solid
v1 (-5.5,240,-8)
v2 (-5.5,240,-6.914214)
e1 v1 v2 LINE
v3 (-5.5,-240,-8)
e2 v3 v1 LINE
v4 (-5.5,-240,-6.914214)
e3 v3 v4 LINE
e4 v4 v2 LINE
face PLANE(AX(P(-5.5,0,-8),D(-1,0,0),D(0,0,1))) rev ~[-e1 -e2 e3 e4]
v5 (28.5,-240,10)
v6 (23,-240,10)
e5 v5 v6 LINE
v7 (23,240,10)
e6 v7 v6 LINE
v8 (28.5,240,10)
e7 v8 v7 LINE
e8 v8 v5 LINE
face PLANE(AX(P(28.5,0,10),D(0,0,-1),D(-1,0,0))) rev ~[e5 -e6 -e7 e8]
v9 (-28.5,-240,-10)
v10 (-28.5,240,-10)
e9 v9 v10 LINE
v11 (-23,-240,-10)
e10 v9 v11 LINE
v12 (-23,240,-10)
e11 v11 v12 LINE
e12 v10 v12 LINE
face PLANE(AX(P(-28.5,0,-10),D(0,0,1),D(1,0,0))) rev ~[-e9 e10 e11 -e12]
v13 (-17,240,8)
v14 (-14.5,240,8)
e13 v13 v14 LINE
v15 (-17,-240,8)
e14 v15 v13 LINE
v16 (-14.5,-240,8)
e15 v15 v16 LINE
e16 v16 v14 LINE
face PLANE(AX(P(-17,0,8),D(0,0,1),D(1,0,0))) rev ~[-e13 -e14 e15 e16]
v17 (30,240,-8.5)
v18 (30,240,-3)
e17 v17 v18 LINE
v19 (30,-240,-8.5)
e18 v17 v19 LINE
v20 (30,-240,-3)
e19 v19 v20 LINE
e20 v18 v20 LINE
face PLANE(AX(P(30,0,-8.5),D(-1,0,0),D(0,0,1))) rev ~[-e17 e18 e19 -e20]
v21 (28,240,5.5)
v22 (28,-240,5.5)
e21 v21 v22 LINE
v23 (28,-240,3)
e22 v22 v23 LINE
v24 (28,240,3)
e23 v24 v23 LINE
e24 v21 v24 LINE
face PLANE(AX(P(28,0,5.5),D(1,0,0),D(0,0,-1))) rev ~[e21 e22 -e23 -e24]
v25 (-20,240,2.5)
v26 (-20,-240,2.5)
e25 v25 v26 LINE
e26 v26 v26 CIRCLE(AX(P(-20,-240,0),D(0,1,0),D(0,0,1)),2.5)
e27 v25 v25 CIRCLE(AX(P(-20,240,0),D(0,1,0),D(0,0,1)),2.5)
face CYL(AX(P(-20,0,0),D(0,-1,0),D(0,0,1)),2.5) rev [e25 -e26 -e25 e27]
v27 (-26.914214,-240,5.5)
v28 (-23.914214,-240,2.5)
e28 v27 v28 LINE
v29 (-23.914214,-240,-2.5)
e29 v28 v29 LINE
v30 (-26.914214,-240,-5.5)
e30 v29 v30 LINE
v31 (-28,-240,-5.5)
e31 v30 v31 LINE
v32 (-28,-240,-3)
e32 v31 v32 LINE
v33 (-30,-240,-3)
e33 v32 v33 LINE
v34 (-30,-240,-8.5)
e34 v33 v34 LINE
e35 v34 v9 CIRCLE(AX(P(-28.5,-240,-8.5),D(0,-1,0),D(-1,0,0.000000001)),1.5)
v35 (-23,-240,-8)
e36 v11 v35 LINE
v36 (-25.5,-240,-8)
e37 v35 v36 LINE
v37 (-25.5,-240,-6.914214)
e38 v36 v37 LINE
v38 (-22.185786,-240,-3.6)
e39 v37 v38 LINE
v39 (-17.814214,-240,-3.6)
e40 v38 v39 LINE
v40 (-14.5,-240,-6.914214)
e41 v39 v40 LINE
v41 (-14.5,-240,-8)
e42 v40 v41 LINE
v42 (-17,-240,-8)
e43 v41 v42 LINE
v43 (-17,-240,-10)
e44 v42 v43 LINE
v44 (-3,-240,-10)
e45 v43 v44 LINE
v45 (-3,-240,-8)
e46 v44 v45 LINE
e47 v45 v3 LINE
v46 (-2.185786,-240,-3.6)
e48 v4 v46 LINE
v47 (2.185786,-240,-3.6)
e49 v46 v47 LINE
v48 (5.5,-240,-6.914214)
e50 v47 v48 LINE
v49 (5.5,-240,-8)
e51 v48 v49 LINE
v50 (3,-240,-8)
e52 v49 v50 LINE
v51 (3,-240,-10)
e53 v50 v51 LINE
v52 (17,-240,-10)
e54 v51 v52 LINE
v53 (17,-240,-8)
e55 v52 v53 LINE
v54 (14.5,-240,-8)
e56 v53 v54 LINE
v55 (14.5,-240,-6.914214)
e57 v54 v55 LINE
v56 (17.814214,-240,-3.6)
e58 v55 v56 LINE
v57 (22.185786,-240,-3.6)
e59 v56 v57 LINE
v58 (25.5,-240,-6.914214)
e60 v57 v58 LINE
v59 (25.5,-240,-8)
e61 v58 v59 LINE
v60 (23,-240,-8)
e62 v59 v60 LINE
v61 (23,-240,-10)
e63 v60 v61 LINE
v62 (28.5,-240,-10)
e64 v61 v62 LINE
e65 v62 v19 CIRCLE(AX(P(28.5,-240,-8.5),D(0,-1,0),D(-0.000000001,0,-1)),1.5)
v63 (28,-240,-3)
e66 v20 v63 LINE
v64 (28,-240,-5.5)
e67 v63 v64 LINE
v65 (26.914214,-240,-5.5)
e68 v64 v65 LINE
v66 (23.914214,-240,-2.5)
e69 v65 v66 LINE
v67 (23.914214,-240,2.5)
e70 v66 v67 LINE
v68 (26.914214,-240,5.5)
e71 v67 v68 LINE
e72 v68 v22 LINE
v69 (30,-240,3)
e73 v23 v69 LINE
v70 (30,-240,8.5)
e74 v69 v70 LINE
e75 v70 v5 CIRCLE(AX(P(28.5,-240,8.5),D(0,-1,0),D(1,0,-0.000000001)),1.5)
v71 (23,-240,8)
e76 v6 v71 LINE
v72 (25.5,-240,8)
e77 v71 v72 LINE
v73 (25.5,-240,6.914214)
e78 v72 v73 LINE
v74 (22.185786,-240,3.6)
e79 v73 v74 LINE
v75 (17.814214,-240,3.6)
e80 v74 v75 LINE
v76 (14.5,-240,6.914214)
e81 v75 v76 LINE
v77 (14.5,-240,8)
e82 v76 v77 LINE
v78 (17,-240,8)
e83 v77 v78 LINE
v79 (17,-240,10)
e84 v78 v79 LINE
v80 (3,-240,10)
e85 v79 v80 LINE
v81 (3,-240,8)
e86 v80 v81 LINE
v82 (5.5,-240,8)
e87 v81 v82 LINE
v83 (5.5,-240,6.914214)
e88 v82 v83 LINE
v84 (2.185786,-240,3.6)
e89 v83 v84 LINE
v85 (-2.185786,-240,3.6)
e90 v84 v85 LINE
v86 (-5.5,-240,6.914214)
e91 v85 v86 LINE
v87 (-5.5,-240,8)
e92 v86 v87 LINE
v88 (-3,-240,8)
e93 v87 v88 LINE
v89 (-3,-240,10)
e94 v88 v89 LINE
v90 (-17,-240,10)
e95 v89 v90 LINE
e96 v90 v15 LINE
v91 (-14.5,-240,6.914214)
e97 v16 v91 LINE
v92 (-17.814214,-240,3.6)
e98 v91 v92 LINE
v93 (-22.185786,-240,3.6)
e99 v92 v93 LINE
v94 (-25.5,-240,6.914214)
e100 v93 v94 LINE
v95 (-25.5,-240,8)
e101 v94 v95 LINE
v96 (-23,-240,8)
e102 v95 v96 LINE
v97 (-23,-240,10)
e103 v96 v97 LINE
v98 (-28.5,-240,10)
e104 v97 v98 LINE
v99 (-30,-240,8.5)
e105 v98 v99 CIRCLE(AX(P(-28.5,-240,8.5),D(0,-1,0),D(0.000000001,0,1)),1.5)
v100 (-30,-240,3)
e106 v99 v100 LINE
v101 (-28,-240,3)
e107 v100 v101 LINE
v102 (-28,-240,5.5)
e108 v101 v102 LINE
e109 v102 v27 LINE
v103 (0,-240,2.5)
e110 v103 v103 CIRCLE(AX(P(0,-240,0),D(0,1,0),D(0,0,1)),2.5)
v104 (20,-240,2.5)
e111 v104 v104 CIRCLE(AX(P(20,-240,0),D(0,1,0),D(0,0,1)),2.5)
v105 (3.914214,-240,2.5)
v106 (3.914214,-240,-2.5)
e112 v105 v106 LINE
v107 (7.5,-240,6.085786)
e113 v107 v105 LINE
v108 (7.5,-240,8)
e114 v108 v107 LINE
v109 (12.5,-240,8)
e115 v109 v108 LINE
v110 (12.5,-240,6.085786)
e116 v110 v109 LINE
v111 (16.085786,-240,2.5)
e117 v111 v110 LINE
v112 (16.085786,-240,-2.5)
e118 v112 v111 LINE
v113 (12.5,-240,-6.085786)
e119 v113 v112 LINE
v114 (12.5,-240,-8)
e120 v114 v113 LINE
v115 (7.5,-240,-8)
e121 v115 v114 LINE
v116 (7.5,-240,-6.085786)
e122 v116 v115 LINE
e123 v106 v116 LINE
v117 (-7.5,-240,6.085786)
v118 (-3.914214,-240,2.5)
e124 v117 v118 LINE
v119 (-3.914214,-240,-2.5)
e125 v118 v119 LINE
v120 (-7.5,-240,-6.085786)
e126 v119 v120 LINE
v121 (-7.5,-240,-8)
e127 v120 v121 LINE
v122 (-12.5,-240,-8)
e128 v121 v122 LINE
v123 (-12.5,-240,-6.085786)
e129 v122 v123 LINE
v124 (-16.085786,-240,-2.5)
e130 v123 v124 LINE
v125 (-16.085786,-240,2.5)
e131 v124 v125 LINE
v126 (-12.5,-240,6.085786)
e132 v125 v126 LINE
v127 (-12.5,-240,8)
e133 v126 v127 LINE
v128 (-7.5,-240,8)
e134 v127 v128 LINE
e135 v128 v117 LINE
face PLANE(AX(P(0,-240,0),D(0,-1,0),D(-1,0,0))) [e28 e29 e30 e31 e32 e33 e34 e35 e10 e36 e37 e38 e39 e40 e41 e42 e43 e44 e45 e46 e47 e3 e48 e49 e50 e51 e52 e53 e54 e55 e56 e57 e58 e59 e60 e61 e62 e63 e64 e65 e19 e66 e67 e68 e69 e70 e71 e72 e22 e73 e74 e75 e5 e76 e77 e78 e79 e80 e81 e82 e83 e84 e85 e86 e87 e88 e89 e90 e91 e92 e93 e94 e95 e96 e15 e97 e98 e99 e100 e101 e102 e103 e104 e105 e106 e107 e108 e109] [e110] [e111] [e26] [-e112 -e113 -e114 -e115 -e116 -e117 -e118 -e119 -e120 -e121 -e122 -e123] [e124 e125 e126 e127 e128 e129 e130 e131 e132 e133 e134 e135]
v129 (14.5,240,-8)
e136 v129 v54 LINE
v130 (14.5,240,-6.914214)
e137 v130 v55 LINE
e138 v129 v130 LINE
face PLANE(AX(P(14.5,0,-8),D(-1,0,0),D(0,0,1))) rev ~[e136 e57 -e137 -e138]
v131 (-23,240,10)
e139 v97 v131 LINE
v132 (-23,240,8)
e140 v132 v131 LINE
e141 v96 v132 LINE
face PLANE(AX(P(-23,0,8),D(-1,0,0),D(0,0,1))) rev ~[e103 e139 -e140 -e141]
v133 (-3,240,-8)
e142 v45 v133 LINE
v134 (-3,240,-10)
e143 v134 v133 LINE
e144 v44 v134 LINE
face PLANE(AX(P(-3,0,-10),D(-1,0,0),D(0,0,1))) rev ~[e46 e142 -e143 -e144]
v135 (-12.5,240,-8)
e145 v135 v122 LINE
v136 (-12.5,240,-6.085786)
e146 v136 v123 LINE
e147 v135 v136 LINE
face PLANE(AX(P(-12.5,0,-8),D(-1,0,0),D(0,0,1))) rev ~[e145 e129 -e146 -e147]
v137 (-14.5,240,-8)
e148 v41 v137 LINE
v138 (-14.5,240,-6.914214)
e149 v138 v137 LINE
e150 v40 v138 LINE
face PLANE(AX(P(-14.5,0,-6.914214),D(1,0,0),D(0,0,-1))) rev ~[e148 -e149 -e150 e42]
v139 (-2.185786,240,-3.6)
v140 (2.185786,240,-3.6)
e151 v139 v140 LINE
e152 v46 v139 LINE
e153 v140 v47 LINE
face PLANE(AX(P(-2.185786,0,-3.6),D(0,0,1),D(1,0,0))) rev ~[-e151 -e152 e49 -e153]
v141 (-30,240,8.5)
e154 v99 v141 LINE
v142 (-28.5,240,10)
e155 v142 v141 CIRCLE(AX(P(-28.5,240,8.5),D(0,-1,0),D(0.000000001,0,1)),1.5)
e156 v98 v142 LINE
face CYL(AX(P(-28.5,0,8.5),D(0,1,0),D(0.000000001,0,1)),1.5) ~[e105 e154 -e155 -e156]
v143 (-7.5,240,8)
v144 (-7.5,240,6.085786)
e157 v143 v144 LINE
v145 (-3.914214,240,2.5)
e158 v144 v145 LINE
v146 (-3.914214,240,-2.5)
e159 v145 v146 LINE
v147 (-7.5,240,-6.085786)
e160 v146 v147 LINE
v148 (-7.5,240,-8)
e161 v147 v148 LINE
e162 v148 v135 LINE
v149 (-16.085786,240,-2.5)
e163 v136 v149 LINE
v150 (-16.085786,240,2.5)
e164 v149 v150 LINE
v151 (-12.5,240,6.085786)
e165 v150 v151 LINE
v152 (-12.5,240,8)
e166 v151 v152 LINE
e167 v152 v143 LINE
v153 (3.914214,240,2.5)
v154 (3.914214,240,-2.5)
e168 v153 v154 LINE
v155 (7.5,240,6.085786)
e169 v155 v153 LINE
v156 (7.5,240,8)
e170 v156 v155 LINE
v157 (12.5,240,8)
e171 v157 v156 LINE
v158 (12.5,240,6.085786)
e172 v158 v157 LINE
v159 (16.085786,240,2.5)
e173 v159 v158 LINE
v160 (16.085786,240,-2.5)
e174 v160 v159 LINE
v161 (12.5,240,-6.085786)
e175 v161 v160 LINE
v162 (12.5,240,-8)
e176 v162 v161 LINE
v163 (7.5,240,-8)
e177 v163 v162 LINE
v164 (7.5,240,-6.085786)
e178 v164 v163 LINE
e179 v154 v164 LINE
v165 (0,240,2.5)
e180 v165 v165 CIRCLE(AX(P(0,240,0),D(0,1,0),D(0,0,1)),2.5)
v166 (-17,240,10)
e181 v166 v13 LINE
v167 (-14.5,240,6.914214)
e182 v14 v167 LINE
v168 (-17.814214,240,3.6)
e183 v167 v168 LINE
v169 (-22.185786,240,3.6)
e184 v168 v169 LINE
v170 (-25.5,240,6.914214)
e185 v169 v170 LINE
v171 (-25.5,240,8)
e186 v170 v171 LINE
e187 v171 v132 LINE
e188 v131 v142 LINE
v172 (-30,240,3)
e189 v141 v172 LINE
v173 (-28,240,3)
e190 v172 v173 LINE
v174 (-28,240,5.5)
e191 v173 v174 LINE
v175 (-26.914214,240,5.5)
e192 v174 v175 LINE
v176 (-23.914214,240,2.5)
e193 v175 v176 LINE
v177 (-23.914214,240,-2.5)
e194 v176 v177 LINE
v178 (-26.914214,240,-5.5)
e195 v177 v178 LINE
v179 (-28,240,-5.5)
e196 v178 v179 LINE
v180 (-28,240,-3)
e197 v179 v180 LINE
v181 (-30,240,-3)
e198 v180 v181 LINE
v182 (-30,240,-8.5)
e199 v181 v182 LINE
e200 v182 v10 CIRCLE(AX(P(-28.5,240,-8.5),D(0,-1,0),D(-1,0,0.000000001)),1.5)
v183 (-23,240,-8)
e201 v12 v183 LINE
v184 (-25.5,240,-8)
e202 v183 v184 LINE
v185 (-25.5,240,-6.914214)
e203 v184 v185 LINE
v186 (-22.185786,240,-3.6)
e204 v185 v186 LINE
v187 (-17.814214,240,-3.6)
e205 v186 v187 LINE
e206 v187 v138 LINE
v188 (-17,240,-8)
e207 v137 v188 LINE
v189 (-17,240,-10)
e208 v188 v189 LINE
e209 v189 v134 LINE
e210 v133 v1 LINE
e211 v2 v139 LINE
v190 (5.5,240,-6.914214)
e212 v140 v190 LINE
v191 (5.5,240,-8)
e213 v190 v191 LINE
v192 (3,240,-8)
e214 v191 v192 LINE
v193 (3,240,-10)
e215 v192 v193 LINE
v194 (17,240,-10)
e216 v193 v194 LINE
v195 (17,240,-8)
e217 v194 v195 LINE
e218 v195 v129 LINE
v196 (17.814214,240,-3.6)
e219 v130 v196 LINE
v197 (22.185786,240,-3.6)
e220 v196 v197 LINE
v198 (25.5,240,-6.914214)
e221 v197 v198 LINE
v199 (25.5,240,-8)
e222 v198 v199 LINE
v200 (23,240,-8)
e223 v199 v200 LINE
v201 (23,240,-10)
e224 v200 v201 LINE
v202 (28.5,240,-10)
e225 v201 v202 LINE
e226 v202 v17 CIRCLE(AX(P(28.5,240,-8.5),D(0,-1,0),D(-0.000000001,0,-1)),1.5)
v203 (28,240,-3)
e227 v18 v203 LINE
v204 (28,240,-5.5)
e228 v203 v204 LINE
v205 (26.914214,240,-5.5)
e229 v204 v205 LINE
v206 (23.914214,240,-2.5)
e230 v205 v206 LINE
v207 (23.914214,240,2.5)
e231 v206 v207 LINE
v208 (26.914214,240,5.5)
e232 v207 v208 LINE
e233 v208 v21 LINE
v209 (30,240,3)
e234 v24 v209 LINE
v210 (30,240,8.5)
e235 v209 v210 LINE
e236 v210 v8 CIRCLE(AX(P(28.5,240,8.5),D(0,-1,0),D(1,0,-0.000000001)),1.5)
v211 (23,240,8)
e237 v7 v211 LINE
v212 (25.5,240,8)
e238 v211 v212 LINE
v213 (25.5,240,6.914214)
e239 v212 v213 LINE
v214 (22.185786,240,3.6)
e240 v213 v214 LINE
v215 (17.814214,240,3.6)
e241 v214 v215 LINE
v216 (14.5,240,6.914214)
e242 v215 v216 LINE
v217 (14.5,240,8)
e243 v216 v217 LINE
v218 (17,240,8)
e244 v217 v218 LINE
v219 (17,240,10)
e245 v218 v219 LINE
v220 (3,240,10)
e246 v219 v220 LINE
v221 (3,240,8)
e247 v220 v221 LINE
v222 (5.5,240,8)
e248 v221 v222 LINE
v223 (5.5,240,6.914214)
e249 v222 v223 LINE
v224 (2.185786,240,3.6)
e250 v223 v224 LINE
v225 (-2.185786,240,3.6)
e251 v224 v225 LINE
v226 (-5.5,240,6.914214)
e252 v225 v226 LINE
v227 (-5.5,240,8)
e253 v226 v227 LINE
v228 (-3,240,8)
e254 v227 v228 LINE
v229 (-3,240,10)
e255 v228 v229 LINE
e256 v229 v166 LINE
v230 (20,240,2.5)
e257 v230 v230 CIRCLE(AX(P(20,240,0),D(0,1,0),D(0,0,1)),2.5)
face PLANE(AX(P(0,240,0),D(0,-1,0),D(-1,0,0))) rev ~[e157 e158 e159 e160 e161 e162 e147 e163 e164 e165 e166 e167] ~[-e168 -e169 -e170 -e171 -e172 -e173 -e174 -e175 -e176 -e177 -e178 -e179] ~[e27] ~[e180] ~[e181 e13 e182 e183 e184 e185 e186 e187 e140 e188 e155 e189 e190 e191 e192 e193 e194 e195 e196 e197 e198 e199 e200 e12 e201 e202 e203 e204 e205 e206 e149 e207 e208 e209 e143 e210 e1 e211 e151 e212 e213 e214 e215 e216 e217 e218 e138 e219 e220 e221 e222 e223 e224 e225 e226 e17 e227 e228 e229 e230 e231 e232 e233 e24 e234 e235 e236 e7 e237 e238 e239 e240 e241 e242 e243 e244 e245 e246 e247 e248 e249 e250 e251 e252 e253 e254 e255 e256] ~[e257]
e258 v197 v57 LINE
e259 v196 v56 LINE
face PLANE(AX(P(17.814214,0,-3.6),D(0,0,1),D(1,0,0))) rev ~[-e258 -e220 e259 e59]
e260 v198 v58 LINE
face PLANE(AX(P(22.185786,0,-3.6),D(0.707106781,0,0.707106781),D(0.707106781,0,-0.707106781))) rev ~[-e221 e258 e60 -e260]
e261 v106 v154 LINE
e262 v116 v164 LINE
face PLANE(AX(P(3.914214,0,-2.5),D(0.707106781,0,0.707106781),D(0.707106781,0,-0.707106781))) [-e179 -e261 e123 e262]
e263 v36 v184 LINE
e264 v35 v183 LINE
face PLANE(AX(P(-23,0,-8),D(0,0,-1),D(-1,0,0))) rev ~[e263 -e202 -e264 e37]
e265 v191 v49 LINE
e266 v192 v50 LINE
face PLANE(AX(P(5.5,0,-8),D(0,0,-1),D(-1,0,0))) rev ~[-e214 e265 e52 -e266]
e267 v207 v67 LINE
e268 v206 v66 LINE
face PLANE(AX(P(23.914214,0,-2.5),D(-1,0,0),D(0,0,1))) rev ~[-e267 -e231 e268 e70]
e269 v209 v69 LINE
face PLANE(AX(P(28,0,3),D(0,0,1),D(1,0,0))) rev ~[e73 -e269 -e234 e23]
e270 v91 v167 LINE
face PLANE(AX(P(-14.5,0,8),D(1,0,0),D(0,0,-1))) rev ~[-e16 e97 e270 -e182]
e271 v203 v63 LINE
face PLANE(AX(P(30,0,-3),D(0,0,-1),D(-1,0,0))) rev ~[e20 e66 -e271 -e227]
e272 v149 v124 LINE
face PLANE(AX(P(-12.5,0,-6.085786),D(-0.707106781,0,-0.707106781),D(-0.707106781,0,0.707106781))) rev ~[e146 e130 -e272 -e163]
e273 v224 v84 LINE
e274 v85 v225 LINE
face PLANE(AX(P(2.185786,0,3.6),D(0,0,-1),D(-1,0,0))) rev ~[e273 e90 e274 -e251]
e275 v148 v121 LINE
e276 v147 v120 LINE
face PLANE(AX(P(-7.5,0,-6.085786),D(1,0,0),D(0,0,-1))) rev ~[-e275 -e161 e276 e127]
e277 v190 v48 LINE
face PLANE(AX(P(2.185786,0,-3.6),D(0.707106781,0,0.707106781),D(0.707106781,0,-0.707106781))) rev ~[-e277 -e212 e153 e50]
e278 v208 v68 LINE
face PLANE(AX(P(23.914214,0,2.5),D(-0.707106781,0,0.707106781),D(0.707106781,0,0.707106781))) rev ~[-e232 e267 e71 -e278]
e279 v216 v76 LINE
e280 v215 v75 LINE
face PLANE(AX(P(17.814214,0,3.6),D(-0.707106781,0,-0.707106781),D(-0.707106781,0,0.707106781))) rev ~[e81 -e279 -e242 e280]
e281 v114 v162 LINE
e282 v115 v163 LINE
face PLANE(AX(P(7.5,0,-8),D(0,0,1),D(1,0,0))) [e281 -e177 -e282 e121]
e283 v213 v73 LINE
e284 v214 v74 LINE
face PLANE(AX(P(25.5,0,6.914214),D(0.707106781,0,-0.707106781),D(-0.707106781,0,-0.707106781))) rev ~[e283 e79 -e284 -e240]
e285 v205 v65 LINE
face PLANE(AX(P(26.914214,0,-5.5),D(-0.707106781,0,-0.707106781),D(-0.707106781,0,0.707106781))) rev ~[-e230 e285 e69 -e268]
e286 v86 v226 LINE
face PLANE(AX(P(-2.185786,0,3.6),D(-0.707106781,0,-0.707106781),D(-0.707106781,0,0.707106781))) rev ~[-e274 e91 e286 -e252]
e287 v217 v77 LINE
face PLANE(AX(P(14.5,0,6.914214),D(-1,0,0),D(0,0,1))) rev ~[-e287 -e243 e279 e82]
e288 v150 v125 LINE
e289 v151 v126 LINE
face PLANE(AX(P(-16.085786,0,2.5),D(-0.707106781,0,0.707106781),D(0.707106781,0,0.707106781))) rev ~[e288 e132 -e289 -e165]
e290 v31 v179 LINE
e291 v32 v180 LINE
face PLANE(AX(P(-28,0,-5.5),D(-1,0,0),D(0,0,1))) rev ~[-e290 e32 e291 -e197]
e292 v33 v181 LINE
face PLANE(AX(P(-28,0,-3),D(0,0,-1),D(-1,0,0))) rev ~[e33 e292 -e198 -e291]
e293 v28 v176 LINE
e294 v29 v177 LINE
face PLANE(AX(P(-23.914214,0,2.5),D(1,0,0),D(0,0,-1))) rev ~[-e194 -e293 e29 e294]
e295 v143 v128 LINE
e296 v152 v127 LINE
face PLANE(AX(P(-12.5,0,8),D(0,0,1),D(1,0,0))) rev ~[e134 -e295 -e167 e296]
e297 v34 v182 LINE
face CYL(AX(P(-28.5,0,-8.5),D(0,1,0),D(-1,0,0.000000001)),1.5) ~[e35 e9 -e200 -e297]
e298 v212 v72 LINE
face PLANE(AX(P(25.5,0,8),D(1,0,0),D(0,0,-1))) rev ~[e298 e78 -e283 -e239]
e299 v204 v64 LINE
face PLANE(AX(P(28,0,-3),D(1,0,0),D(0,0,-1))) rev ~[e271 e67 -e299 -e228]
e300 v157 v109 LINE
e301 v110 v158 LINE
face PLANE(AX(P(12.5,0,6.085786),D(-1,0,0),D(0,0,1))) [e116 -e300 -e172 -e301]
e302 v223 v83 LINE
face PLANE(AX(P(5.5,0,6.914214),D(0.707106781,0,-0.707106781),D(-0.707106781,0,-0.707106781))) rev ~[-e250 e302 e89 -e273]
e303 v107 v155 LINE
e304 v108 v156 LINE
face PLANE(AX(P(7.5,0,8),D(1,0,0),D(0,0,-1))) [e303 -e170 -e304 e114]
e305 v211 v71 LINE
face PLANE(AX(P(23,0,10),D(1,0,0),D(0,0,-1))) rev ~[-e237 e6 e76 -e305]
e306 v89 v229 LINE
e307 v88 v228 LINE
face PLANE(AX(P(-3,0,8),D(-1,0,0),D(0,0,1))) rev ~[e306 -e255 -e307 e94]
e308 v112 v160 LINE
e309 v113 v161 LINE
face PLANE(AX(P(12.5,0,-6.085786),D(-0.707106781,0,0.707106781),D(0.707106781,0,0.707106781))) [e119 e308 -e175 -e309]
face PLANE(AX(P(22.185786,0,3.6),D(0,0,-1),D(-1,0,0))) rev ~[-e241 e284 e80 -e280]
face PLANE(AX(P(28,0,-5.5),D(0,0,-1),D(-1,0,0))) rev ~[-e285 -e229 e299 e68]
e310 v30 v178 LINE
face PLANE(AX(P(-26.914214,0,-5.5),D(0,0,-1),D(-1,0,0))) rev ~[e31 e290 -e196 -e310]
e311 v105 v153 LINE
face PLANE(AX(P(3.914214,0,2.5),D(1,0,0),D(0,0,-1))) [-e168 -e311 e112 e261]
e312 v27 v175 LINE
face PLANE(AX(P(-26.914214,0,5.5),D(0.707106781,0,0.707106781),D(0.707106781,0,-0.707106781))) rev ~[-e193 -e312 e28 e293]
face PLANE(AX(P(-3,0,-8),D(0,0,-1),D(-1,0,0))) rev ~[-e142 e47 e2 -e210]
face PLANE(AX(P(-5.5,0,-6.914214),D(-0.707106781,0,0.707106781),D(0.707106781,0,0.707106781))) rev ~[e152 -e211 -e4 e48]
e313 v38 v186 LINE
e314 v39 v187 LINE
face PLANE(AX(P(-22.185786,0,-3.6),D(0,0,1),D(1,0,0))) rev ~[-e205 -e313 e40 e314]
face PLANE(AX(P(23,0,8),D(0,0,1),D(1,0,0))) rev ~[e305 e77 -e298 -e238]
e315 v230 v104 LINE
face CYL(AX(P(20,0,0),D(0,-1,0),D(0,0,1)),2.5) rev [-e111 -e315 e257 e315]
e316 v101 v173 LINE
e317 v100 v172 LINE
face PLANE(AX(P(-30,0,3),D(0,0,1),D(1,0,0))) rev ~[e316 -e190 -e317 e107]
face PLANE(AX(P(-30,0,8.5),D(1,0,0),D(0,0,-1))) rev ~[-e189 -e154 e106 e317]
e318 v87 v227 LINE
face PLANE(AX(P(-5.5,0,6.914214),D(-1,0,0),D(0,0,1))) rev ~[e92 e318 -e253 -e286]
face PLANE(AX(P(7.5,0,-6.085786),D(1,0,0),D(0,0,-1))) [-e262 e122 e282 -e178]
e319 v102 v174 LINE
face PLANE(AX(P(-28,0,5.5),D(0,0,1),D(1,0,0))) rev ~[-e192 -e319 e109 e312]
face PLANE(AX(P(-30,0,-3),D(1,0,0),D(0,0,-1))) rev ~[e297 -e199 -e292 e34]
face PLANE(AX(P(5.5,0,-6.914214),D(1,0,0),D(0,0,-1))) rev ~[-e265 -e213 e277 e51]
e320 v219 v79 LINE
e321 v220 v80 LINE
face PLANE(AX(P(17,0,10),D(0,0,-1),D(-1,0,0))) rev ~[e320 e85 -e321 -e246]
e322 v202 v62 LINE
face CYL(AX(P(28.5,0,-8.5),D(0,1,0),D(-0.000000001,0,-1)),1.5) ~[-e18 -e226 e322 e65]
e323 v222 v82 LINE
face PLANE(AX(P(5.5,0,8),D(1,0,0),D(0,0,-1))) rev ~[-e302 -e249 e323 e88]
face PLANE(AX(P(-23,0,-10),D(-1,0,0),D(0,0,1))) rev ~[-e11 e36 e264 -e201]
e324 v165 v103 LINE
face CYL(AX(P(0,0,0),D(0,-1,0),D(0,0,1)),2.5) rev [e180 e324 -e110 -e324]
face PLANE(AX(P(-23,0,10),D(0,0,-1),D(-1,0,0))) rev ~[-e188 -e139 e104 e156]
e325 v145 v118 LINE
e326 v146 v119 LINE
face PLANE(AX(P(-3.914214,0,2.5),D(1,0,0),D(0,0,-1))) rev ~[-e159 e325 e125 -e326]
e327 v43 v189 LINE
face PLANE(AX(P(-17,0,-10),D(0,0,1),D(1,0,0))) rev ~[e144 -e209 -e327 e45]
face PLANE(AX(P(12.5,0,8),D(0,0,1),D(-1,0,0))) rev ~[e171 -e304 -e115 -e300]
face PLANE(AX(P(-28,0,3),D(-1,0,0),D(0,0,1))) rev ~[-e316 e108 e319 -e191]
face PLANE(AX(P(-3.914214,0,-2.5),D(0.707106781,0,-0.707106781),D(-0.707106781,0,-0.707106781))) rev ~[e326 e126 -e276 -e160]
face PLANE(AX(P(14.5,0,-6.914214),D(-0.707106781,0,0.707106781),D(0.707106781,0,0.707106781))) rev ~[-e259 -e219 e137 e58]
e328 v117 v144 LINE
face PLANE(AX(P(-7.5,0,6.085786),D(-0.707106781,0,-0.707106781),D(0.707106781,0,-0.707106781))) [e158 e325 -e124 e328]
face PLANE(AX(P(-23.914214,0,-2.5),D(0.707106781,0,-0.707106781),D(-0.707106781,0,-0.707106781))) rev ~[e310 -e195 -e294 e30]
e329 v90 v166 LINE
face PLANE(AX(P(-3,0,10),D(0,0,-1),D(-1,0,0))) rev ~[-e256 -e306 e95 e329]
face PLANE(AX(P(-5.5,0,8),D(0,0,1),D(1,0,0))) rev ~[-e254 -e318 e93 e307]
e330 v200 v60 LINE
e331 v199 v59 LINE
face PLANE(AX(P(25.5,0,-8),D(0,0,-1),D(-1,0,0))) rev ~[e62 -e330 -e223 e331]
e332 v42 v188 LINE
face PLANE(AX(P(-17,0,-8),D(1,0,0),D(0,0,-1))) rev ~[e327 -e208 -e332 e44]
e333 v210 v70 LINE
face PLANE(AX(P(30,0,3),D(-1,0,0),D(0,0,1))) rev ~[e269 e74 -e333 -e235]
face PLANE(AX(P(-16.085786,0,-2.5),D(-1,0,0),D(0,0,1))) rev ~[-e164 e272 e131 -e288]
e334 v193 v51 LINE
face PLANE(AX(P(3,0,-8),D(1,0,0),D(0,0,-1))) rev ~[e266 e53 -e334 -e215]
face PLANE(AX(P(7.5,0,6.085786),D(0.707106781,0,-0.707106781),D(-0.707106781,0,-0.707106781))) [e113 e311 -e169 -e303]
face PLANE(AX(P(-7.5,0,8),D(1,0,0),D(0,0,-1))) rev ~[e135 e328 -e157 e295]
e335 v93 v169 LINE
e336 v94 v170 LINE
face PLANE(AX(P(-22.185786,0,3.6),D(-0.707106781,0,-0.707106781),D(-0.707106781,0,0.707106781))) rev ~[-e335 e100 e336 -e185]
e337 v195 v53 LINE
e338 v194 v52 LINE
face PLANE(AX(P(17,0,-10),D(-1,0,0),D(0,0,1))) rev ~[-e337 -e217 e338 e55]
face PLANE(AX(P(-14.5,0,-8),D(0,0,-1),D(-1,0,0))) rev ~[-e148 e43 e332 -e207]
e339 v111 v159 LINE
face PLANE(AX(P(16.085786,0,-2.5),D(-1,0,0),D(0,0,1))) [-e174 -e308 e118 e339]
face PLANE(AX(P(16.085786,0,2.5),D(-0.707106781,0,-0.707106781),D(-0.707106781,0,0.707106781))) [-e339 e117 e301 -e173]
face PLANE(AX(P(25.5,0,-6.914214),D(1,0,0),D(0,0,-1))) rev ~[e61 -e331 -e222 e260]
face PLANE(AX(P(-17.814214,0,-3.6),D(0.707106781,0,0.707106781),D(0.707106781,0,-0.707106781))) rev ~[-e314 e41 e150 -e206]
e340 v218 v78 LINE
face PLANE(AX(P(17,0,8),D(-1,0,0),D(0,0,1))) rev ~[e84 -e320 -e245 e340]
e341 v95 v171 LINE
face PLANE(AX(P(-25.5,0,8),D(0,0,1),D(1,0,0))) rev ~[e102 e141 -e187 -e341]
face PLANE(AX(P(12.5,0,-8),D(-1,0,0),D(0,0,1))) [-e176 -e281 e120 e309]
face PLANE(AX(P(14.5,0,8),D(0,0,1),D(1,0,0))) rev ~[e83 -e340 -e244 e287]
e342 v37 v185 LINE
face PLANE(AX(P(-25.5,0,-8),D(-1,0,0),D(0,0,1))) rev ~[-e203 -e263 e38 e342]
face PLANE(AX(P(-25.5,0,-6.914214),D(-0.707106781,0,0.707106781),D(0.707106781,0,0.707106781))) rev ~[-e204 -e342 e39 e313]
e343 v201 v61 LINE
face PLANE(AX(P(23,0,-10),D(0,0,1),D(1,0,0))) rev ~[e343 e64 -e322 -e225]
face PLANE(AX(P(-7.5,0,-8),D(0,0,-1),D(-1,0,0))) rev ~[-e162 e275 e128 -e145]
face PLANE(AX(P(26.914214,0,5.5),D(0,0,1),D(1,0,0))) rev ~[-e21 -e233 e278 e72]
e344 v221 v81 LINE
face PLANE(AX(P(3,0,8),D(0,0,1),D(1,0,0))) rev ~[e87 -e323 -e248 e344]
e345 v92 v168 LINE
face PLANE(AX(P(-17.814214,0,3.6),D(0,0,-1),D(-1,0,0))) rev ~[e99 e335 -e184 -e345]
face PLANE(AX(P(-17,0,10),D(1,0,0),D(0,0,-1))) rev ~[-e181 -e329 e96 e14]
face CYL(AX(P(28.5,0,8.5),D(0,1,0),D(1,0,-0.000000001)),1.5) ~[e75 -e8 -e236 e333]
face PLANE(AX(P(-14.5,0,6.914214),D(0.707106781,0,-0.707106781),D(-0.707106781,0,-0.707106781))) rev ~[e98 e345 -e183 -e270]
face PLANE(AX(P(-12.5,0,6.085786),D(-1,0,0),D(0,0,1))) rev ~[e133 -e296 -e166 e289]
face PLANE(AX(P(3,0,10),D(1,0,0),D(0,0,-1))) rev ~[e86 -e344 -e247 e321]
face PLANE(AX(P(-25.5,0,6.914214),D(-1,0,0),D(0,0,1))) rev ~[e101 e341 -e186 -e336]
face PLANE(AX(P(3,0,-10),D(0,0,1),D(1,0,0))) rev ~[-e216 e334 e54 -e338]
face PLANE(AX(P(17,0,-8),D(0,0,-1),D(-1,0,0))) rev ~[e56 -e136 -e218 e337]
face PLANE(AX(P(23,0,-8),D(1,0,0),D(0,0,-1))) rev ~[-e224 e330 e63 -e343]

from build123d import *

# Parameters (mm, degrees)
SKETCH1_R           = 2.5
BOSS_EXTRUDE1_DEPTH = 240


with BuildPart() as part:
    # Sketch1 → Boss-Extrude1 (new, symmetric)
    with BuildSketch(Plane(origin=(0, 0, 0), x_dir=(1, 0, 0), z_dir=(0, 1, 0))):
        with BuildLine():
            Line((-2.185786438, 3.6), (2.185786438, 3.6))
            Line((2.185786438, 3.6), (5.5, 6.914213562))
            Line((5.5, 6.914213562), (5.5, 8))
            Line((5.5, 8), (3, 8))
            Line((3, 8), (3, 10))
            Line((3, 10), (17, 10))
            Line((17, 10), (17, 8))
            Line((17, 8), (14.5, 8))
            Line((14.5, 8), (14.5, 6.914213562))
            Line((14.5, 6.914213562), (17.814213562, 3.6))
            Line((17.814213562, 3.6), (22.185786438, 3.6))
            Line((22.185786438, 3.6), (25.5, 6.914213562))
            Line((25.5, 6.914213562), (25.5, 8))
            Line((25.5, 8), (23, 8))
            Line((23, 8), (23, 10))
            Line((23, 10), (28.5, 10))
            ThreePointArc((28.5, 10), (29.560660172, 9.560660172), (30, 8.5))
            Line((30, 8.5), (30, 3))
            Line((30, 3), (28, 3))
            Line((28, 3), (28, 5.5))
            Line((28, 5.5), (26.914213562, 5.5))
            Line((26.914213562, 5.5), (23.914213562, 2.5))
            Line((23.914213562, 2.5), (23.914213562, -2.5))
            Line((23.914213562, -2.5), (26.914213562, -5.5))
            Line((26.914213562, -5.5), (28, -5.5))
            Line((28, -5.5), (28, -3))
            Line((28, -3), (30, -3))
            Line((30, -3), (30, -8.5))
            ThreePointArc((30, -8.5), (29.560660172, -9.560660172), (28.5, -10))
            Line((28.5, -10), (23, -10))
            Line((23, -10), (23, -8))
            Line((23, -8), (25.5, -8))
            Line((25.5, -8), (25.5, -6.914213562))
            Line((25.5, -6.914213562), (22.185786438, -3.6))
            Line((22.185786438, -3.6), (17.814213562, -3.6))
            Line((17.814213562, -3.6), (14.5, -6.914213562))
            Line((14.5, -6.914213562), (14.5, -8))
            Line((14.5, -8), (17, -8))
            Line((17, -8), (17, -10))
            Line((17, -10), (3, -10))
            Line((3, -10), (3, -8))
            Line((3, -8), (5.5, -8))
            Line((5.5, -8), (5.5, -6.914213562))
            Line((5.5, -6.914213562), (2.185786438, -3.6))
            Line((2.185786438, -3.6), (-2.185786438, -3.6))
            Line((-2.185786438, -3.6), (-5.5, -6.914213562))
            Line((-5.5, -6.914213562), (-5.5, -8))
            Line((-5.5, -8), (-3, -8))
            Line((-3, -8), (-3, -10))
            Line((-3, -10), (-17, -10))
            Line((-17, -10), (-17, -8))
            Line((-17, -8), (-14.5, -8))
            Line((-14.5, -8), (-14.5, -6.914213562))
            Line((-14.5, -6.914213562), (-17.814213562, -3.6))
            Line((-17.814213562, -3.6), (-22.185786438, -3.6))
            Line((-22.185786438, -3.6), (-25.5, -6.914213562))
            Line((-25.5, -6.914213562), (-25.5, -8))
            Line((-25.5, -8), (-23, -8))
            Line((-23, -8), (-23, -10))
            Line((-23, -10), (-28.5, -10))
            ThreePointArc((-28.5, -10), (-29.560660172, -9.560660172), (-30, -8.5))
            Line((-30, -8.5), (-30, -3))
            Line((-30, -3), (-28, -3))
            Line((-28, -3), (-28, -5.5))
            Line((-28, -5.5), (-26.914213562, -5.5))
            Line((-26.914213562, -5.5), (-23.914213562, -2.5))
            Line((-23.914213562, -2.5), (-23.914213562, 2.5))
            Line((-23.914213562, 2.5), (-26.914213562, 5.5))
            Line((-26.914213562, 5.5), (-28, 5.5))
            Line((-28, 5.5), (-28, 3))
            Line((-28, 3), (-30, 3))
            Line((-30, 3), (-30, 8.5))
            ThreePointArc((-30, 8.5), (-29.560660172, 9.560660172), (-28.5, 10))
            Line((-28.5, 10), (-23, 10))
            Line((-23, 10), (-23, 8))
            Line((-23, 8), (-25.5, 8))
            Line((-25.5, 8), (-25.5, 6.914213562))
            Line((-25.5, 6.914213562), (-22.185786438, 3.6))
            Line((-22.185786438, 3.6), (-17.814213562, 3.6))
            Line((-17.814213562, 3.6), (-14.5, 6.914213562))
            Line((-14.5, 6.914213562), (-14.5, 8))
            Line((-14.5, 8), (-17, 8))
            Line((-17, 8), (-17, 10))
            Line((-17, 10), (-3, 10))
            Line((-3, 10), (-3, 8))
            Line((-3, 8), (-5.5, 8))
            Line((-5.5, 8), (-5.5, 6.914213562))
            Line((-5.5, 6.914213562), (-2.185786438, 3.6))
        make_face()
        with Locations(Location((0, 0, 0), (0, 0, 270))):
            Circle(SKETCH1_R, mode=Mode.SUBTRACT)
        with Locations(Location((20, 0, 0), (0, 0, 270))):
            Circle(SKETCH1_R, mode=Mode.SUBTRACT)
        with Locations(Location((-20, 0, 0), (0, 0, 270))):
            Circle(SKETCH1_R, mode=Mode.SUBTRACT)
        Polygon((7.5, 8), (12.5, 8), (12.5, 6.085786438), (16.085786438, 2.5), (16.085786438, -2.5), (12.5, -6.085786438), (12.5, -8), (7.5, -8), (7.5, -6.085786438), (3.914213562, -2.5), (3.914213562, 2.5), (7.5, 6.085786438), align=None, mode=Mode.SUBTRACT)
        Polygon((-7.5, -6.085786438), (-3.914213562, -2.5), (-3.914213562, 2.5), (-7.5, 6.085786438), (-7.5, 8), (-12.5, 8), (-12.5, 6.085786438), (-16.085786438, 2.5), (-16.085786438, -2.5), (-12.5, -6.085786438), (-12.5, -8), (-7.5, -8), align=None, mode=Mode.SUBTRACT)
    extrude(amount=BOSS_EXTRUDE1_DEPTH, both=True)


solid = part.part
